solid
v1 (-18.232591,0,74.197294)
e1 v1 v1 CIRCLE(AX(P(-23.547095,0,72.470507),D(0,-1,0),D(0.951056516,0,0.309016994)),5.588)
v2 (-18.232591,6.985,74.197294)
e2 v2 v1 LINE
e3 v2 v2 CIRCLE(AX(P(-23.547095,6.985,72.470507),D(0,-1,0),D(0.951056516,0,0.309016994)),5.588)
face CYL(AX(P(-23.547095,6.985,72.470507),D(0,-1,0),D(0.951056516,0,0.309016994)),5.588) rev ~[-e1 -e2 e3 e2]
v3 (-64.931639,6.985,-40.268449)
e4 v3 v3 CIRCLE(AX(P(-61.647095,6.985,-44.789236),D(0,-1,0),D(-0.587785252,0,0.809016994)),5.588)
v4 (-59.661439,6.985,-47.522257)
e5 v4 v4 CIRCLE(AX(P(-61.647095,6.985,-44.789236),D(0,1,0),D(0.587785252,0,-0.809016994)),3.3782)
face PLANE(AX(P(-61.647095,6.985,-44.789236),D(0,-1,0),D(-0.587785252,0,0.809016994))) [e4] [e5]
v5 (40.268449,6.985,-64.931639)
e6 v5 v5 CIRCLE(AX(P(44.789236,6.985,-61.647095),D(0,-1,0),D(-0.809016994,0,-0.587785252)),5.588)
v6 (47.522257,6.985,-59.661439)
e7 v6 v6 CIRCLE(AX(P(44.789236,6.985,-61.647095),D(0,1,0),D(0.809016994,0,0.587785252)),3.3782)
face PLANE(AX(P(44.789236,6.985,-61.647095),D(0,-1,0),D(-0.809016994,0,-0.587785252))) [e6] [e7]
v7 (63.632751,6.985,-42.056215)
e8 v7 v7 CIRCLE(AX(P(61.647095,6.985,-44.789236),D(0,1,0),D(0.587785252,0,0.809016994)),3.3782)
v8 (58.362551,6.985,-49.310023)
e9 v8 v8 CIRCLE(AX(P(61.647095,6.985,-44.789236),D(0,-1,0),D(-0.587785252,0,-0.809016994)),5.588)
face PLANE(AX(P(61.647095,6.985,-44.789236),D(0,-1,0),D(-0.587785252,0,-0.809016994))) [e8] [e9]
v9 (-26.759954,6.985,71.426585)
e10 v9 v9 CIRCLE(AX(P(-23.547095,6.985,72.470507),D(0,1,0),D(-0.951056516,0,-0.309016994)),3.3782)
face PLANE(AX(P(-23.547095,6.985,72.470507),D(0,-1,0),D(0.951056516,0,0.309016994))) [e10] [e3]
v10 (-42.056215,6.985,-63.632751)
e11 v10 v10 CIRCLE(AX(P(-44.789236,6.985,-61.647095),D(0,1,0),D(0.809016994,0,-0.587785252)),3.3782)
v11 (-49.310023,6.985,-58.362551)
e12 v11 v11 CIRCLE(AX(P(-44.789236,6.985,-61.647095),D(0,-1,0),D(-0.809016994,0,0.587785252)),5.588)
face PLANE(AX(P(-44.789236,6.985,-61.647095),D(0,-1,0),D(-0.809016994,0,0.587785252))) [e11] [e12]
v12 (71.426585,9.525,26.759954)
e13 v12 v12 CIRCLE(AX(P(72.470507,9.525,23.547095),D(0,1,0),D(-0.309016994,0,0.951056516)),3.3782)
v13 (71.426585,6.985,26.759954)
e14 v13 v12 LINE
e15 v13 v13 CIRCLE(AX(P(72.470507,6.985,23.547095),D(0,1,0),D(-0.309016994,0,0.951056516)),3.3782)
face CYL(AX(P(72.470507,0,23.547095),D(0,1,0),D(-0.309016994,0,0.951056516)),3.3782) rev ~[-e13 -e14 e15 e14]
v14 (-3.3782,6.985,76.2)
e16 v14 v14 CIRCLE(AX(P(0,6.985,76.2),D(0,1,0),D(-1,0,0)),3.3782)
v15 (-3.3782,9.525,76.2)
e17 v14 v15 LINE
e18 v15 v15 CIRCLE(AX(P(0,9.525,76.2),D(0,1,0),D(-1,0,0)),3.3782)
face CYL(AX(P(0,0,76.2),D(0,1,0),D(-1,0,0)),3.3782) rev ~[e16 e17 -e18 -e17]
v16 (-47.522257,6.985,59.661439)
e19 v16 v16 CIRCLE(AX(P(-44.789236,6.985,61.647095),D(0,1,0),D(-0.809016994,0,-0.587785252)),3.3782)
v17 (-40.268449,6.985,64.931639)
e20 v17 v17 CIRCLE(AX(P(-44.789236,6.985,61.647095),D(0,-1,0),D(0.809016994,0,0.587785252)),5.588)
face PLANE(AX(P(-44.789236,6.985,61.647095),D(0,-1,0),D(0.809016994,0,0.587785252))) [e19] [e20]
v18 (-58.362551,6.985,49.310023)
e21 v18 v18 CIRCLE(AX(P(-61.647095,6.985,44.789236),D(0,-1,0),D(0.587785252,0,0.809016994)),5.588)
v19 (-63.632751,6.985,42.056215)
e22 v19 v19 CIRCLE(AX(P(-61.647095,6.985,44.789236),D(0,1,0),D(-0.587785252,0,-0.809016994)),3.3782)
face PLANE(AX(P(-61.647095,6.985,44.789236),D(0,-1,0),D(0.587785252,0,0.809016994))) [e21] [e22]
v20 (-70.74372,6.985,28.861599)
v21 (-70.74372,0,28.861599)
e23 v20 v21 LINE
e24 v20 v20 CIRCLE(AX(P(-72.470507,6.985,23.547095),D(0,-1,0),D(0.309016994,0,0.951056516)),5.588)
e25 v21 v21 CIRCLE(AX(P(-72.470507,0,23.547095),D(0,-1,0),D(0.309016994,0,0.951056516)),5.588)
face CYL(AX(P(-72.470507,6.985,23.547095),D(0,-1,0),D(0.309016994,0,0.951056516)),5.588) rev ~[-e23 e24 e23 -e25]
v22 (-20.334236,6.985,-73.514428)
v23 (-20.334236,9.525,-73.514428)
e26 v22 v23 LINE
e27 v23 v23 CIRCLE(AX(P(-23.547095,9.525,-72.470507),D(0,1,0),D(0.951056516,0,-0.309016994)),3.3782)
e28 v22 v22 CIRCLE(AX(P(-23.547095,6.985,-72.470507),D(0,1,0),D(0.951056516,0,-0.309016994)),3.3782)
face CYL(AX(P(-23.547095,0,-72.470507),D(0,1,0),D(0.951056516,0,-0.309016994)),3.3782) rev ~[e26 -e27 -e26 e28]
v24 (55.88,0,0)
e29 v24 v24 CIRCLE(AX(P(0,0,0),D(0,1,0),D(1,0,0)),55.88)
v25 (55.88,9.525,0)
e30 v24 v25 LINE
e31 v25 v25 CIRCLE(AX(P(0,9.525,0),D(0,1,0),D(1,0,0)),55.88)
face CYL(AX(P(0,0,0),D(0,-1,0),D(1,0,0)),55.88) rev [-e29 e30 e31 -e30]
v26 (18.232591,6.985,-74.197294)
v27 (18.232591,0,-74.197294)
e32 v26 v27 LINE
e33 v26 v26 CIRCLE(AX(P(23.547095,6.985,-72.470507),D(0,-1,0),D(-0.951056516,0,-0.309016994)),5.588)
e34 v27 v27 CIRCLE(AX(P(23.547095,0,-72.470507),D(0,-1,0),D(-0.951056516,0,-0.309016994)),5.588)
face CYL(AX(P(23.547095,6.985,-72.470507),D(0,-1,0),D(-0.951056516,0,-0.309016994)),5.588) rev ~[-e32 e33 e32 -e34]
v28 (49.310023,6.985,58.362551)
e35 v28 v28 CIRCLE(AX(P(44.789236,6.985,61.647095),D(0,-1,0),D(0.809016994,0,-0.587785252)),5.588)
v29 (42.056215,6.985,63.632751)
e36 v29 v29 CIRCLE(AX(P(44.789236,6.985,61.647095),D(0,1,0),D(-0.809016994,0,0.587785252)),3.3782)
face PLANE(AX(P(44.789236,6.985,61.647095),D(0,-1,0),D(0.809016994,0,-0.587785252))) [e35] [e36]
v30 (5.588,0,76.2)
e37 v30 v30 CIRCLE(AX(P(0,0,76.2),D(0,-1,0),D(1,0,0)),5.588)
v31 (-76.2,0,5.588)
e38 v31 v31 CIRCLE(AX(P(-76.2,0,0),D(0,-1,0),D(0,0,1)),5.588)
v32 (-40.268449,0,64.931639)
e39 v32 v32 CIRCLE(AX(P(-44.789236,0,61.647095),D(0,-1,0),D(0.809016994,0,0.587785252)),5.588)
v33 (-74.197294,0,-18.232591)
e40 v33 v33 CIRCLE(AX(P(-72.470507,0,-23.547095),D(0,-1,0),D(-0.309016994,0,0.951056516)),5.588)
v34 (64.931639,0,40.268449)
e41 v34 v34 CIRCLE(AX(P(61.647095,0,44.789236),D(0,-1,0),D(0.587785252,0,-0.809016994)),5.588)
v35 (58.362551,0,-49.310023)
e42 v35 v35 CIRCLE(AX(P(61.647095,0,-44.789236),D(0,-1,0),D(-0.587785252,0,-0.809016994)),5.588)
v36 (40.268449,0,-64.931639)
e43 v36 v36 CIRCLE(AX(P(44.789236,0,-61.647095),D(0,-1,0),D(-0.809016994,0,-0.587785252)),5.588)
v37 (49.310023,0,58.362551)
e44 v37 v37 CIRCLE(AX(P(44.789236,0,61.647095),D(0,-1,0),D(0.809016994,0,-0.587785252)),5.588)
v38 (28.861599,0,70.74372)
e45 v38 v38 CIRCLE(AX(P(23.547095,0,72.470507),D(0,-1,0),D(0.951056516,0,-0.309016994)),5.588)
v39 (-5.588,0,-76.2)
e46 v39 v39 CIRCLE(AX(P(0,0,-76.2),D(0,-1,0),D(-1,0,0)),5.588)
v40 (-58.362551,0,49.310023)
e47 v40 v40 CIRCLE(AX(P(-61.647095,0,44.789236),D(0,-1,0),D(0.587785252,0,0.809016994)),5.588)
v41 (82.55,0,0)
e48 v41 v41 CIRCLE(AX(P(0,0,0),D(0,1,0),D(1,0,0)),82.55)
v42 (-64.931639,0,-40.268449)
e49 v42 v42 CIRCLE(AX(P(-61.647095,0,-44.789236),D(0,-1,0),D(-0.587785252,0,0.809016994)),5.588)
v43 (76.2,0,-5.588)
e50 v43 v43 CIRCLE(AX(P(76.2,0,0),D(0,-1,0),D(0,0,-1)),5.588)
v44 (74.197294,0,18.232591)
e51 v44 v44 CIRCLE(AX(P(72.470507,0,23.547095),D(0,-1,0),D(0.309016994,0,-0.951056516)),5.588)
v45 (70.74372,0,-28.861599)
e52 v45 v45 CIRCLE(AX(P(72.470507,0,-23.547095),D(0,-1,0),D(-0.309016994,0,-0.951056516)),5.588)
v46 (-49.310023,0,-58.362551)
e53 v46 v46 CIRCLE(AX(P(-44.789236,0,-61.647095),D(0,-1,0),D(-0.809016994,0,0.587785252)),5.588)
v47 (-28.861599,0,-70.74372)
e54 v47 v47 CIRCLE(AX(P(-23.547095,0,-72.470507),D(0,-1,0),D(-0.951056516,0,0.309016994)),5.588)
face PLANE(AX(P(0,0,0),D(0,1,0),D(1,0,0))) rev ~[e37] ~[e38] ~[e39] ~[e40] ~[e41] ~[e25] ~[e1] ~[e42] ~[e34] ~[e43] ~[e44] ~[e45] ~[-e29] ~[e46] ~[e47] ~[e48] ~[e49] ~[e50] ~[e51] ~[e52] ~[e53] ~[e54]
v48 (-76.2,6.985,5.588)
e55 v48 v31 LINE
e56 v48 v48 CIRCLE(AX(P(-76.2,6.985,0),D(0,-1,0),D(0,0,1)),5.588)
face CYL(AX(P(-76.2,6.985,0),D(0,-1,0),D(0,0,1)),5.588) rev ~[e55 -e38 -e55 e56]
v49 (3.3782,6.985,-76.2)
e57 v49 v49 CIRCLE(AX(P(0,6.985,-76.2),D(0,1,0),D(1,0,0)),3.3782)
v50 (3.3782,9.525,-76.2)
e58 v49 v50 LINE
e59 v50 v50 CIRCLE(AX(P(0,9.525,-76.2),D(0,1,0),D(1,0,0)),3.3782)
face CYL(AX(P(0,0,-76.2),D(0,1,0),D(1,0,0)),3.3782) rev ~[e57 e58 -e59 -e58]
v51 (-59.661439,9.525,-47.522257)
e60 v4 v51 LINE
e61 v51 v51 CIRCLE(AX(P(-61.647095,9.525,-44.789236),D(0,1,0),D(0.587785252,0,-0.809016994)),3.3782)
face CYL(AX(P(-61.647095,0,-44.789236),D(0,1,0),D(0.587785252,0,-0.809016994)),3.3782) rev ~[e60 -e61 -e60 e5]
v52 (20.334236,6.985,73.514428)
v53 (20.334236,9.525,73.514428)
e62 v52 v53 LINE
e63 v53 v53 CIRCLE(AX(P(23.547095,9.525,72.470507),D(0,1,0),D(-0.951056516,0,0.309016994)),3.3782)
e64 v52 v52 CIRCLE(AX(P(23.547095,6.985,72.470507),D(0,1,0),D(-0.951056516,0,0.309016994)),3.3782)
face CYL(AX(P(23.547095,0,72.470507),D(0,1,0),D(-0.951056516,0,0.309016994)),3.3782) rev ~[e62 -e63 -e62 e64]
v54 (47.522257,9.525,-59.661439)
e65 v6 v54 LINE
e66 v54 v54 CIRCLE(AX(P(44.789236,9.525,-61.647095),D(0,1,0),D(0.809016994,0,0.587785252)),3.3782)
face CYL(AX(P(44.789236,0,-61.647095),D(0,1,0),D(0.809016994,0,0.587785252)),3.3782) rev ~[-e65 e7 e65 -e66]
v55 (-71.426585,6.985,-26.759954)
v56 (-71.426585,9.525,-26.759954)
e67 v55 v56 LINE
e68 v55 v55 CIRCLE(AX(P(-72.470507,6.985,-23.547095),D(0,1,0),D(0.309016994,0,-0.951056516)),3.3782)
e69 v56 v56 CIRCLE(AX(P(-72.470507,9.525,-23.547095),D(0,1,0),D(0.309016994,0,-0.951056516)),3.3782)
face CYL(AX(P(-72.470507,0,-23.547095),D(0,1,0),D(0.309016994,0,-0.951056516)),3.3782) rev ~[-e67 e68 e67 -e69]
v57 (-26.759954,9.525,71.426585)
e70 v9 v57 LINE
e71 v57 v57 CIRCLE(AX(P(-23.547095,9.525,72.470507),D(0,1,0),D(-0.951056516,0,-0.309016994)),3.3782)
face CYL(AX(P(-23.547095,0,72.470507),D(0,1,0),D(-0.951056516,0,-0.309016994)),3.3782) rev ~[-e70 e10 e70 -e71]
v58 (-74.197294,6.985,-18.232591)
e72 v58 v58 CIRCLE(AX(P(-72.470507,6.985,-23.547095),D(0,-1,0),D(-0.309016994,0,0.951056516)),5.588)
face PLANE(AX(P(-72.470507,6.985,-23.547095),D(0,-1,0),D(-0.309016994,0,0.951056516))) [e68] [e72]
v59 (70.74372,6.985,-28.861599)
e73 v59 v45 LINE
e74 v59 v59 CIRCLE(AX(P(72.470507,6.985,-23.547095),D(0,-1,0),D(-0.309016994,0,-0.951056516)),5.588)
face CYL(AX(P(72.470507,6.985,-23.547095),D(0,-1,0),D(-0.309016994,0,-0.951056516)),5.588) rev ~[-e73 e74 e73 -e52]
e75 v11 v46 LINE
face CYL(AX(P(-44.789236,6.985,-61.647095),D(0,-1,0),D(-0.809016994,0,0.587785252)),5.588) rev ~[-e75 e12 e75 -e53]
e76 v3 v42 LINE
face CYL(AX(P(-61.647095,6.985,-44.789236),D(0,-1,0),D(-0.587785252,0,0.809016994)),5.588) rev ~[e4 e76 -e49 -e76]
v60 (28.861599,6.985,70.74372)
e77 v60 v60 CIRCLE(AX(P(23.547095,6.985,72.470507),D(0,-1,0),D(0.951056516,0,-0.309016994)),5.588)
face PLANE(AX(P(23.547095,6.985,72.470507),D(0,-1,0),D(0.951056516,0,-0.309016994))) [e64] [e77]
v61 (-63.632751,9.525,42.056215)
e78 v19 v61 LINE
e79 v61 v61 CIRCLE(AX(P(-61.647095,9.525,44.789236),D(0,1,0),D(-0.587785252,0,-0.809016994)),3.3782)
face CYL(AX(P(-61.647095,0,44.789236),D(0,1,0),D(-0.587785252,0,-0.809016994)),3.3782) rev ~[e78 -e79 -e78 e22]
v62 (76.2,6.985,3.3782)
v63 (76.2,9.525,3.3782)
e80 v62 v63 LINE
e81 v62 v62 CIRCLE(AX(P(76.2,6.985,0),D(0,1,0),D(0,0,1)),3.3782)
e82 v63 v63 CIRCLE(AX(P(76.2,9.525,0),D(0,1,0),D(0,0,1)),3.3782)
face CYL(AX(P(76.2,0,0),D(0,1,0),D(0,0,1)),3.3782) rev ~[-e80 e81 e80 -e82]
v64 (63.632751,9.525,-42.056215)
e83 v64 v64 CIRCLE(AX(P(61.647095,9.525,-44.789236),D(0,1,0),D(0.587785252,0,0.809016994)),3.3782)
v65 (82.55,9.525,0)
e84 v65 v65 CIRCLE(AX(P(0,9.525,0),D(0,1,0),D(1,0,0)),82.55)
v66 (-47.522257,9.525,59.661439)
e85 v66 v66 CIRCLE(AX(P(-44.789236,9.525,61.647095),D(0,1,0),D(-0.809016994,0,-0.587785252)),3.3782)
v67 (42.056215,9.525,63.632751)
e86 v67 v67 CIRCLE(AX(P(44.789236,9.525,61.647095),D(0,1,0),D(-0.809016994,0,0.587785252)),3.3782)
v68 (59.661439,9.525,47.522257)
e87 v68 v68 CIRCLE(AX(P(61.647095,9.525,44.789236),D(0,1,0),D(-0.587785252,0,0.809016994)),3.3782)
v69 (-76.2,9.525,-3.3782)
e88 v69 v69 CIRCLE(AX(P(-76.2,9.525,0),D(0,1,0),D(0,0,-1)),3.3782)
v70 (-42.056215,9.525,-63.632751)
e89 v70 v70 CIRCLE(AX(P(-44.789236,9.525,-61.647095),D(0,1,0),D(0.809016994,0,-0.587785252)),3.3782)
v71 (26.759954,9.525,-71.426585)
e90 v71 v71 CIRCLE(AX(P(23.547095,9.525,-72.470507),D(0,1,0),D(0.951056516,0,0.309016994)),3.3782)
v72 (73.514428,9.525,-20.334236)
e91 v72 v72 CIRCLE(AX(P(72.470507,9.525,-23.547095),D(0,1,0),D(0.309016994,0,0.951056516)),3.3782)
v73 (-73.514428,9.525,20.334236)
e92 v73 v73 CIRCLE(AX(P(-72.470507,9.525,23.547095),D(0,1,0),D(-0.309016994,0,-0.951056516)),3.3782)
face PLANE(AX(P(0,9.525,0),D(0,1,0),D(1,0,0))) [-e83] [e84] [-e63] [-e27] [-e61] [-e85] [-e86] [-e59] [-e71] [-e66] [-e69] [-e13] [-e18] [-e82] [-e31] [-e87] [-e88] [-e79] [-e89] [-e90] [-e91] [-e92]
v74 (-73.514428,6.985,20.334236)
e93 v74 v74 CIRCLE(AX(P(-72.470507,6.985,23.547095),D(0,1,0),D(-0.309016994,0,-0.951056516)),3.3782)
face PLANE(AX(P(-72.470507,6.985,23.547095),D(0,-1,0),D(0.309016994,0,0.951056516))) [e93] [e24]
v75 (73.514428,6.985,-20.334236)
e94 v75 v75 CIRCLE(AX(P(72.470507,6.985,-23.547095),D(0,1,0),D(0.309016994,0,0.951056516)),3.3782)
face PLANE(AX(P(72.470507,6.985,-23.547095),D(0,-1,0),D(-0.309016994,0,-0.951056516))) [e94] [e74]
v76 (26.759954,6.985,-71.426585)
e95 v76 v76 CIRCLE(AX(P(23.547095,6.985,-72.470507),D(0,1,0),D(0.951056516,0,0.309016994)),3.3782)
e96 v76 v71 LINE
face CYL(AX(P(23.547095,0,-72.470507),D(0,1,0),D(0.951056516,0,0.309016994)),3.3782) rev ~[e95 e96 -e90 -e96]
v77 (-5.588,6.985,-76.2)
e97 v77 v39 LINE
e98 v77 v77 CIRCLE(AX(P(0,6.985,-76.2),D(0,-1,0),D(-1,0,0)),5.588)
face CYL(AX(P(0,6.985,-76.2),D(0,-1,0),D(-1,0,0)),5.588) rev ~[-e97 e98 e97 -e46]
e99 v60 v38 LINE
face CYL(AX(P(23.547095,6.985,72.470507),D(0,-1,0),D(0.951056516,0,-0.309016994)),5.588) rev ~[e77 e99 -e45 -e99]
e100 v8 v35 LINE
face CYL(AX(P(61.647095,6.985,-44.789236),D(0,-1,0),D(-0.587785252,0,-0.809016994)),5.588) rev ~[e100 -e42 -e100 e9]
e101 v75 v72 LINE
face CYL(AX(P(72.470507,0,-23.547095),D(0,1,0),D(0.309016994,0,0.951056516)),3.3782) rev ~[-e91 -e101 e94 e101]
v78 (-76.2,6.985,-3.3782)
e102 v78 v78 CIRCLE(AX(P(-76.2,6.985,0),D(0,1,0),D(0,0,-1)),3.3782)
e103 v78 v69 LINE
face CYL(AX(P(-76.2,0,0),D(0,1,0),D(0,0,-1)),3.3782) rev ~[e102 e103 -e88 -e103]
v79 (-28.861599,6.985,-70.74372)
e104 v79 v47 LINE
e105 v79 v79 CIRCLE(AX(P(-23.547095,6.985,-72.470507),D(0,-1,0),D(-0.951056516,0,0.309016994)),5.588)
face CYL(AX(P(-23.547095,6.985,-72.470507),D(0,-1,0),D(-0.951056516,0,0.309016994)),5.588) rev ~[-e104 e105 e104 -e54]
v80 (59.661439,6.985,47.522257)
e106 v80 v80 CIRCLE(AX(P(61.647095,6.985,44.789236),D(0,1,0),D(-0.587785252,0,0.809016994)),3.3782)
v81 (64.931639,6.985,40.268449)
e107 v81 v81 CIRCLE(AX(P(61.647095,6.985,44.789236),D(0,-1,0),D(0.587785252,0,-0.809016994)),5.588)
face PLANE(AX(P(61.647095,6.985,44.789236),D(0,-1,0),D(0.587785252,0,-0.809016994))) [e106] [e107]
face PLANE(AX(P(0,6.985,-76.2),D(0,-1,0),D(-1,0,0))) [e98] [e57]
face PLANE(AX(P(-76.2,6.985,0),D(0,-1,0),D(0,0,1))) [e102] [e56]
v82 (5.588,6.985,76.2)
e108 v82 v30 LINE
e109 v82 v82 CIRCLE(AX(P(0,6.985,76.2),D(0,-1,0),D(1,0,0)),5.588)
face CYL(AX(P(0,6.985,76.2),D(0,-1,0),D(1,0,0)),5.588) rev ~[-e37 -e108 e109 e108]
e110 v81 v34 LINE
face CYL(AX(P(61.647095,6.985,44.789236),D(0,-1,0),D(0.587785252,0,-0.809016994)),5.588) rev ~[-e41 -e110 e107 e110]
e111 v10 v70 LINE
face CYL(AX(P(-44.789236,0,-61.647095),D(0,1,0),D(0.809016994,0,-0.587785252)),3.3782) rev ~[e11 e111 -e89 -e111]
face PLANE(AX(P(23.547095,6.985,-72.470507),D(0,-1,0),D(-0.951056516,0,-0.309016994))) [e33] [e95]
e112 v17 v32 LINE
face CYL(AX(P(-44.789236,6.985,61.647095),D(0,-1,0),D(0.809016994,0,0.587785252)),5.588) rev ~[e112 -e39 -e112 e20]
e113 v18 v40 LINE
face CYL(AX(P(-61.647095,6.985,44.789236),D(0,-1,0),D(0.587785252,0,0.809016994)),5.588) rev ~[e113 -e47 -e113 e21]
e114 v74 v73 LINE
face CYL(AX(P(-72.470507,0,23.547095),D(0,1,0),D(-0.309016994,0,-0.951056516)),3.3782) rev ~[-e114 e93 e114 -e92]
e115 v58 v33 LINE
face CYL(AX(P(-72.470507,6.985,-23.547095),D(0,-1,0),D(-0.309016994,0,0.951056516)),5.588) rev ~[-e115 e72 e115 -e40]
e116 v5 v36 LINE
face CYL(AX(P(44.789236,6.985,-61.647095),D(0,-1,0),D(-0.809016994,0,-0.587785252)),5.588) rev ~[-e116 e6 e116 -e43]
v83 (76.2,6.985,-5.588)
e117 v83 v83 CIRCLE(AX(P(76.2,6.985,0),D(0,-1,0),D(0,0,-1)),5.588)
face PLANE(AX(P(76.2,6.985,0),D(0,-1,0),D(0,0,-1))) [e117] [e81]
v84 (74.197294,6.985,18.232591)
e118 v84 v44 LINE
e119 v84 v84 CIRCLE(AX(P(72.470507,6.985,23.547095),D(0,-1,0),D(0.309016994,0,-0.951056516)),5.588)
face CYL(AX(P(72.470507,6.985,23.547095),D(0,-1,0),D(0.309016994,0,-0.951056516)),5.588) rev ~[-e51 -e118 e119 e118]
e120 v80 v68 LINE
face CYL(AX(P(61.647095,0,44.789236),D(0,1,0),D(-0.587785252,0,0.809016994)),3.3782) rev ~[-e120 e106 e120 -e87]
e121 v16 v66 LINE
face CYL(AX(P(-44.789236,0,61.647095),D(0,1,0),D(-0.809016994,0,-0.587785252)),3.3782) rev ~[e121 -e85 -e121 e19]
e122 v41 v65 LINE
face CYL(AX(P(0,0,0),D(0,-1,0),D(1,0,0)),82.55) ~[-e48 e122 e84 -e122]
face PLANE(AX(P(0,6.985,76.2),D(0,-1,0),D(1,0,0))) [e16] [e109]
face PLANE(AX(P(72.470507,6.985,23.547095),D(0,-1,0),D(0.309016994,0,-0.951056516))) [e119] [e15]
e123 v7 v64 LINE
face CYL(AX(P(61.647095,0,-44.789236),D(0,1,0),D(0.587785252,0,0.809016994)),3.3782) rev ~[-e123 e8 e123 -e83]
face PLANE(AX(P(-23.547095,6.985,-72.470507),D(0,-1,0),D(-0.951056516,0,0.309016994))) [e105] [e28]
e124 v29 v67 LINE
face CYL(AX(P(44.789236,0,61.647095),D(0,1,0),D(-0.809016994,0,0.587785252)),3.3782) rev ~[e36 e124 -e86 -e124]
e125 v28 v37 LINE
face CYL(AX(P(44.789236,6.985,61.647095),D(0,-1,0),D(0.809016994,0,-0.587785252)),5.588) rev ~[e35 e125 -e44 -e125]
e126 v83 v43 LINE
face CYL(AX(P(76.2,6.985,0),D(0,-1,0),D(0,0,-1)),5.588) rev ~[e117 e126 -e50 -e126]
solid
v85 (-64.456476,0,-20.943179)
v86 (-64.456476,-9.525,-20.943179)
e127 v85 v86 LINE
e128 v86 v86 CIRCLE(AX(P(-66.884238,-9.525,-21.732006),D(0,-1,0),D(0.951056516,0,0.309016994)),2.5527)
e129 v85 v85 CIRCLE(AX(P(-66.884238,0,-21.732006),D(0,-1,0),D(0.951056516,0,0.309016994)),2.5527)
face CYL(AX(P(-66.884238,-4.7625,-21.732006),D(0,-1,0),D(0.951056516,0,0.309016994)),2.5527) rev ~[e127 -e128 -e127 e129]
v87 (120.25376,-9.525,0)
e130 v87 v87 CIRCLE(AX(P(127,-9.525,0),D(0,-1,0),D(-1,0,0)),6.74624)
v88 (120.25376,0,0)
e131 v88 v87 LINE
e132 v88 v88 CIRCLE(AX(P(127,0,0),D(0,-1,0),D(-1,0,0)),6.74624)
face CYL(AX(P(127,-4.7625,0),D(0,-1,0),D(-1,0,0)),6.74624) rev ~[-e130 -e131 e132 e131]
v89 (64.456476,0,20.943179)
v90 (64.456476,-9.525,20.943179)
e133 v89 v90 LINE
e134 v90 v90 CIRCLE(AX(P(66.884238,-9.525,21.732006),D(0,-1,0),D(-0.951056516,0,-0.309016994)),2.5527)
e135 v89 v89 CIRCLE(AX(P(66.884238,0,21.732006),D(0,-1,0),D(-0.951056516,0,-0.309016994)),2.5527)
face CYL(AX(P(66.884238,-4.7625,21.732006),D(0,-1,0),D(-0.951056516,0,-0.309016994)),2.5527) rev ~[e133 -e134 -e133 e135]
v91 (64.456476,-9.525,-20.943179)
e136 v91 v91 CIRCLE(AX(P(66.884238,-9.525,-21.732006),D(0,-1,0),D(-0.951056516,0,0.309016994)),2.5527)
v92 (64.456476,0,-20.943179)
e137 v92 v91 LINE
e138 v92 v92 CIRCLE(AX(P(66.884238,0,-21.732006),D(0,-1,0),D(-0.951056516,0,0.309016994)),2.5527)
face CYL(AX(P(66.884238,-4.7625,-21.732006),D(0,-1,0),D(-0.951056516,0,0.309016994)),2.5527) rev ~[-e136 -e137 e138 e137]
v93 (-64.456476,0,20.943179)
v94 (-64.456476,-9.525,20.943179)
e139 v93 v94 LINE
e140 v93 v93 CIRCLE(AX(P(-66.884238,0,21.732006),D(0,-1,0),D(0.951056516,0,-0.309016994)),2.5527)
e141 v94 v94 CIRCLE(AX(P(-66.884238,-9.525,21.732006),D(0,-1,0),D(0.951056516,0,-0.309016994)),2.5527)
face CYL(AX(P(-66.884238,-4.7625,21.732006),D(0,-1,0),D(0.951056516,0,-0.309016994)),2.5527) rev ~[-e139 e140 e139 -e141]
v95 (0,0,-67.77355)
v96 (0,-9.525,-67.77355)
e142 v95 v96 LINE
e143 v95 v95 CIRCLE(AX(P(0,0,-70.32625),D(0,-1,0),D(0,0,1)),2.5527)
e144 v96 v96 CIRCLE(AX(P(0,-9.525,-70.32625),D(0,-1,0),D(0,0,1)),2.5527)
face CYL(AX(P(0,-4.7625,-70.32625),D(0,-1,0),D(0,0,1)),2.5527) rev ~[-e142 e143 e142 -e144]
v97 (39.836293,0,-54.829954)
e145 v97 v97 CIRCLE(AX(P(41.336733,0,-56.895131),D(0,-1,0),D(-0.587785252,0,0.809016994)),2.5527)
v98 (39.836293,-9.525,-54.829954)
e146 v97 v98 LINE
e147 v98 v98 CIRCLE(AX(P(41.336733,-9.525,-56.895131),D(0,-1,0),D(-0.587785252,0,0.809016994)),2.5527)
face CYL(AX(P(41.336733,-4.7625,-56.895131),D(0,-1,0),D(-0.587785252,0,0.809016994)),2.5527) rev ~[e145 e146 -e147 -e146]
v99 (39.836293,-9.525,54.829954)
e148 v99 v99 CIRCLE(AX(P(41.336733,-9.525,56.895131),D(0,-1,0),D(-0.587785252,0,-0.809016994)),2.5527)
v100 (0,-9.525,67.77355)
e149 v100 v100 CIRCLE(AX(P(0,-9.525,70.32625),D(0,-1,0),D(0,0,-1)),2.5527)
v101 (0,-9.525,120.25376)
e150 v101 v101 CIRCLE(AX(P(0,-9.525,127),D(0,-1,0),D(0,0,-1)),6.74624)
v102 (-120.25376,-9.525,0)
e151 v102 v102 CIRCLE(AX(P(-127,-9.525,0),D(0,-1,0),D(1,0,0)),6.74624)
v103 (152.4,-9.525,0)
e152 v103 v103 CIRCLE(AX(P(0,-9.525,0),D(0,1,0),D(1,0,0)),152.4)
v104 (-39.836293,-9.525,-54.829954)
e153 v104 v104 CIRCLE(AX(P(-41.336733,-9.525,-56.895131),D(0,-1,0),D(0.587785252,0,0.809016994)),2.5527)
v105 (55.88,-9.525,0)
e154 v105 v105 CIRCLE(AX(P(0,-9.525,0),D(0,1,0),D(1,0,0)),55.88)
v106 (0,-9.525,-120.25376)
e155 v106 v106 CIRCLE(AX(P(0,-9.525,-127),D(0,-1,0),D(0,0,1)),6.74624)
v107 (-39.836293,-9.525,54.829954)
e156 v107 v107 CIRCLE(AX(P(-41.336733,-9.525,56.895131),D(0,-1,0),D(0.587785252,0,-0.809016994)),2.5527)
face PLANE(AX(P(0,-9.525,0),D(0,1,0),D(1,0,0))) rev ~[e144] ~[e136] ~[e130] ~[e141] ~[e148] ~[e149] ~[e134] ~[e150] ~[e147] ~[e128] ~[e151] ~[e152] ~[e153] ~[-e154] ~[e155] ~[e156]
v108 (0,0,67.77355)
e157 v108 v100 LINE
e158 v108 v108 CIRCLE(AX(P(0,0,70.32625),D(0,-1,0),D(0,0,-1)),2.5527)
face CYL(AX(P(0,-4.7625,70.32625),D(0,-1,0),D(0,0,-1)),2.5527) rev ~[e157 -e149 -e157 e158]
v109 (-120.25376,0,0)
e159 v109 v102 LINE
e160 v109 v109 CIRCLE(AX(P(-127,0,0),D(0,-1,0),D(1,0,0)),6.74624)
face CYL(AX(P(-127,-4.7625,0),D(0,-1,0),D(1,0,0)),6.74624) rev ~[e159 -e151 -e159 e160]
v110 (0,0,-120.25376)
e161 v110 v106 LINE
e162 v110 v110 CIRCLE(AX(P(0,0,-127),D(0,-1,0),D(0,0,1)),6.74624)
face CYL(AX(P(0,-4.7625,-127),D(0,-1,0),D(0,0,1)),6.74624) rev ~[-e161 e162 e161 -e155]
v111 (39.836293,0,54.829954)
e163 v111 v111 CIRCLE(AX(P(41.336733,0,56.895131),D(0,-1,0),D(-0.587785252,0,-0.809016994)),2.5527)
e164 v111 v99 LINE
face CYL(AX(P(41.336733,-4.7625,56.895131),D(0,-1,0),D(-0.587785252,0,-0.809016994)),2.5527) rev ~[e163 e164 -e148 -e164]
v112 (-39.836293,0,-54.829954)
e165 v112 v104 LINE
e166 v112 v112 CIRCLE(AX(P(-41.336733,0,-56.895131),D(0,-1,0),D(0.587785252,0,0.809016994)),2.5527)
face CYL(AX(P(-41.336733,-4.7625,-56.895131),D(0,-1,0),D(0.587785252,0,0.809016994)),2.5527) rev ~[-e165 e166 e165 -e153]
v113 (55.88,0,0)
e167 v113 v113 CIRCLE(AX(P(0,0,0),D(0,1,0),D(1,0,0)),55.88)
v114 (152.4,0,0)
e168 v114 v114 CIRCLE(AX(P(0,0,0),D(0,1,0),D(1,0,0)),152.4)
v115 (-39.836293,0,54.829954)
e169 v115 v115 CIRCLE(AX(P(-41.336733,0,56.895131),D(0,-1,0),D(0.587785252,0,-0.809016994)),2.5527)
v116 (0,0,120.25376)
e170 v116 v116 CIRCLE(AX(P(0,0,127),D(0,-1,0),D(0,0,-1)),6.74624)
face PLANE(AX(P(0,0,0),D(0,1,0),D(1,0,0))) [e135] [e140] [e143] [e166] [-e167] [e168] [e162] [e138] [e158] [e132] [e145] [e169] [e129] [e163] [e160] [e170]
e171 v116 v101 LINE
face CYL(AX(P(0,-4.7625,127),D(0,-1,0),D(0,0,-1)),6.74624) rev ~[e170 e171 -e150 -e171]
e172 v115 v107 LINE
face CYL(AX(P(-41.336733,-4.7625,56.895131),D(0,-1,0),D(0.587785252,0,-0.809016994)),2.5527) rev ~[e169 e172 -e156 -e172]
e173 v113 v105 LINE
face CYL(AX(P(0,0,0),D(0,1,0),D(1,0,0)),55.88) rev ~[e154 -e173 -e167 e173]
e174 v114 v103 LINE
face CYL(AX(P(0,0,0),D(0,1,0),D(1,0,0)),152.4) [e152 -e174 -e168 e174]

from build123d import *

# Parameters (mm, degrees)
SKETCH9_R                           = 82.55
SKETCH9_R_2                         = 55.88
REF_BACKPLATE_DEPTH                 = 9.525
REF_CBORE_BACKPLATE_D               = 6.7564
REF_CBORE_BACKPLATE_CBORE_D         = 11.176
REF_CBORE_BACKPLATE_CBORE_DEPTH     = 6.985
REF_CBORE_BACKPLATE_PATTERN_COUNT   = 20
SKETCH1_R                           = 152.4
SKETCH1_R_2                         = 55.88
THRUSTPLATE_TC3_DEPTH               = 9.525
SKETCH12_W                          = 6.74624
SKETCH12_H                          = 9.525
CLEARANCE_THRUSTPLATE_PATTERN_COUNT = 4
SKETCH23_W                          = 2.5527
SKETCH23_H                          = 9.525
CIRPATTERN1_COUNT                   = 10


with BuildPart() as part:
    # Sketch9 → REF_BackPlate (new body)
    with BuildSketch(Plane(origin=(0, 0, 0), x_dir=(1, 0, 0), z_dir=(0, 1, 0))):
        Circle(SKETCH9_R)
        Circle(SKETCH9_R_2, mode=Mode.SUBTRACT)
    extrude(amount=REF_BACKPLATE_DEPTH)

    # REF_CBORE_BackPlate (through all)
    with Locations(Plane(origin=(0, 0, 0), x_dir=(-1, 0, 0), z_dir=(0, -1, 0))):
        with Locations((0, 76.2)):
            ref_cbore_backplate = CounterBoreHole(REF_CBORE_BACKPLATE_D / 2, REF_CBORE_BACKPLATE_CBORE_D / 2, REF_CBORE_BACKPLATE_CBORE_DEPTH)

    # REF_CBORE_BackPlate_Pattern: REF_CBORE_BackPlate ×20 about axis
    ref_cbore_backplate_pattern_axis = Axis((0, 9.525, 0), (0, -1, 0))
    for i in range(1, REF_CBORE_BACKPLATE_PATTERN_COUNT):
        add(ref_cbore_backplate.rotate(ref_cbore_backplate_pattern_axis, i * 360 / REF_CBORE_BACKPLATE_PATTERN_COUNT), mode=Mode.SUBTRACT)


with BuildPart() as body_2:
    # Sketch1 → ThrustPlate_TC3 (new body)
    with BuildSketch(Plane(origin=(0, 0, 0), x_dir=(1, 0, 0), z_dir=(0, 1, 0))):
        Circle(SKETCH1_R)
        Circle(SKETCH1_R_2, mode=Mode.SUBTRACT)
    extrude(amount=-THRUSTPLATE_TC3_DEPTH)

    # Sketch12 → UNDEF_Clearance_ThrustPlate (revolve, cut)
    with BuildSketch(Plane(origin=(0, 0, -127), x_dir=(0, 0, 1), z_dir=(1, 0, 0))):
        with Locations((3.37312, 4.7625)):
            Rectangle(SKETCH12_W, SKETCH12_H)
    undef_clearance_thrustplate = revolve(axis=Axis((0, 6.35, -127), (0, -1, 0)), mode=Mode.SUBTRACT)

    # Clearance_ThrustPlate_Pattern: UNDEF_Clearance_ThrustPlate ×4 about axis
    clearance_thrustplate_pattern_axis = Axis((0, -9.525, 0), (0, 1, 0))
    for i in range(1, CLEARANCE_THRUSTPLATE_PATTERN_COUNT):
        add(undef_clearance_thrustplate.rotate(clearance_thrustplate_pattern_axis, i * 360 / CLEARANCE_THRUSTPLATE_PATTERN_COUNT), mode=Mode.SUBTRACT)

    # Sketch23 → #10 Clearance Hole1 (revolve, cut)
    with BuildSketch(Plane(origin=(0, 0, -70.32625), x_dir=(0, 0, 1), z_dir=(1, 0, 0))):
        with Locations((1.27635, 4.7625)):
            Rectangle(SKETCH23_W, SKETCH23_H)
    f_10_clearance_hole1 = revolve(axis=Axis((0, 6.35, -70.32625), (0, -1, 0)), mode=Mode.SUBTRACT)

    # CirPattern1: #10 Clearance Hole1 ×10 about axis
    cirpattern1_axis = Axis((0, -9.525, 0), (0, 1, 0))
    for i in range(1, CIRPATTERN1_COUNT):
        add(f_10_clearance_hole1.rotate(cirpattern1_axis, i * 360 / CIRPATTERN1_COUNT), mode=Mode.SUBTRACT)


solid = Compound([part.part, body_2.part])
